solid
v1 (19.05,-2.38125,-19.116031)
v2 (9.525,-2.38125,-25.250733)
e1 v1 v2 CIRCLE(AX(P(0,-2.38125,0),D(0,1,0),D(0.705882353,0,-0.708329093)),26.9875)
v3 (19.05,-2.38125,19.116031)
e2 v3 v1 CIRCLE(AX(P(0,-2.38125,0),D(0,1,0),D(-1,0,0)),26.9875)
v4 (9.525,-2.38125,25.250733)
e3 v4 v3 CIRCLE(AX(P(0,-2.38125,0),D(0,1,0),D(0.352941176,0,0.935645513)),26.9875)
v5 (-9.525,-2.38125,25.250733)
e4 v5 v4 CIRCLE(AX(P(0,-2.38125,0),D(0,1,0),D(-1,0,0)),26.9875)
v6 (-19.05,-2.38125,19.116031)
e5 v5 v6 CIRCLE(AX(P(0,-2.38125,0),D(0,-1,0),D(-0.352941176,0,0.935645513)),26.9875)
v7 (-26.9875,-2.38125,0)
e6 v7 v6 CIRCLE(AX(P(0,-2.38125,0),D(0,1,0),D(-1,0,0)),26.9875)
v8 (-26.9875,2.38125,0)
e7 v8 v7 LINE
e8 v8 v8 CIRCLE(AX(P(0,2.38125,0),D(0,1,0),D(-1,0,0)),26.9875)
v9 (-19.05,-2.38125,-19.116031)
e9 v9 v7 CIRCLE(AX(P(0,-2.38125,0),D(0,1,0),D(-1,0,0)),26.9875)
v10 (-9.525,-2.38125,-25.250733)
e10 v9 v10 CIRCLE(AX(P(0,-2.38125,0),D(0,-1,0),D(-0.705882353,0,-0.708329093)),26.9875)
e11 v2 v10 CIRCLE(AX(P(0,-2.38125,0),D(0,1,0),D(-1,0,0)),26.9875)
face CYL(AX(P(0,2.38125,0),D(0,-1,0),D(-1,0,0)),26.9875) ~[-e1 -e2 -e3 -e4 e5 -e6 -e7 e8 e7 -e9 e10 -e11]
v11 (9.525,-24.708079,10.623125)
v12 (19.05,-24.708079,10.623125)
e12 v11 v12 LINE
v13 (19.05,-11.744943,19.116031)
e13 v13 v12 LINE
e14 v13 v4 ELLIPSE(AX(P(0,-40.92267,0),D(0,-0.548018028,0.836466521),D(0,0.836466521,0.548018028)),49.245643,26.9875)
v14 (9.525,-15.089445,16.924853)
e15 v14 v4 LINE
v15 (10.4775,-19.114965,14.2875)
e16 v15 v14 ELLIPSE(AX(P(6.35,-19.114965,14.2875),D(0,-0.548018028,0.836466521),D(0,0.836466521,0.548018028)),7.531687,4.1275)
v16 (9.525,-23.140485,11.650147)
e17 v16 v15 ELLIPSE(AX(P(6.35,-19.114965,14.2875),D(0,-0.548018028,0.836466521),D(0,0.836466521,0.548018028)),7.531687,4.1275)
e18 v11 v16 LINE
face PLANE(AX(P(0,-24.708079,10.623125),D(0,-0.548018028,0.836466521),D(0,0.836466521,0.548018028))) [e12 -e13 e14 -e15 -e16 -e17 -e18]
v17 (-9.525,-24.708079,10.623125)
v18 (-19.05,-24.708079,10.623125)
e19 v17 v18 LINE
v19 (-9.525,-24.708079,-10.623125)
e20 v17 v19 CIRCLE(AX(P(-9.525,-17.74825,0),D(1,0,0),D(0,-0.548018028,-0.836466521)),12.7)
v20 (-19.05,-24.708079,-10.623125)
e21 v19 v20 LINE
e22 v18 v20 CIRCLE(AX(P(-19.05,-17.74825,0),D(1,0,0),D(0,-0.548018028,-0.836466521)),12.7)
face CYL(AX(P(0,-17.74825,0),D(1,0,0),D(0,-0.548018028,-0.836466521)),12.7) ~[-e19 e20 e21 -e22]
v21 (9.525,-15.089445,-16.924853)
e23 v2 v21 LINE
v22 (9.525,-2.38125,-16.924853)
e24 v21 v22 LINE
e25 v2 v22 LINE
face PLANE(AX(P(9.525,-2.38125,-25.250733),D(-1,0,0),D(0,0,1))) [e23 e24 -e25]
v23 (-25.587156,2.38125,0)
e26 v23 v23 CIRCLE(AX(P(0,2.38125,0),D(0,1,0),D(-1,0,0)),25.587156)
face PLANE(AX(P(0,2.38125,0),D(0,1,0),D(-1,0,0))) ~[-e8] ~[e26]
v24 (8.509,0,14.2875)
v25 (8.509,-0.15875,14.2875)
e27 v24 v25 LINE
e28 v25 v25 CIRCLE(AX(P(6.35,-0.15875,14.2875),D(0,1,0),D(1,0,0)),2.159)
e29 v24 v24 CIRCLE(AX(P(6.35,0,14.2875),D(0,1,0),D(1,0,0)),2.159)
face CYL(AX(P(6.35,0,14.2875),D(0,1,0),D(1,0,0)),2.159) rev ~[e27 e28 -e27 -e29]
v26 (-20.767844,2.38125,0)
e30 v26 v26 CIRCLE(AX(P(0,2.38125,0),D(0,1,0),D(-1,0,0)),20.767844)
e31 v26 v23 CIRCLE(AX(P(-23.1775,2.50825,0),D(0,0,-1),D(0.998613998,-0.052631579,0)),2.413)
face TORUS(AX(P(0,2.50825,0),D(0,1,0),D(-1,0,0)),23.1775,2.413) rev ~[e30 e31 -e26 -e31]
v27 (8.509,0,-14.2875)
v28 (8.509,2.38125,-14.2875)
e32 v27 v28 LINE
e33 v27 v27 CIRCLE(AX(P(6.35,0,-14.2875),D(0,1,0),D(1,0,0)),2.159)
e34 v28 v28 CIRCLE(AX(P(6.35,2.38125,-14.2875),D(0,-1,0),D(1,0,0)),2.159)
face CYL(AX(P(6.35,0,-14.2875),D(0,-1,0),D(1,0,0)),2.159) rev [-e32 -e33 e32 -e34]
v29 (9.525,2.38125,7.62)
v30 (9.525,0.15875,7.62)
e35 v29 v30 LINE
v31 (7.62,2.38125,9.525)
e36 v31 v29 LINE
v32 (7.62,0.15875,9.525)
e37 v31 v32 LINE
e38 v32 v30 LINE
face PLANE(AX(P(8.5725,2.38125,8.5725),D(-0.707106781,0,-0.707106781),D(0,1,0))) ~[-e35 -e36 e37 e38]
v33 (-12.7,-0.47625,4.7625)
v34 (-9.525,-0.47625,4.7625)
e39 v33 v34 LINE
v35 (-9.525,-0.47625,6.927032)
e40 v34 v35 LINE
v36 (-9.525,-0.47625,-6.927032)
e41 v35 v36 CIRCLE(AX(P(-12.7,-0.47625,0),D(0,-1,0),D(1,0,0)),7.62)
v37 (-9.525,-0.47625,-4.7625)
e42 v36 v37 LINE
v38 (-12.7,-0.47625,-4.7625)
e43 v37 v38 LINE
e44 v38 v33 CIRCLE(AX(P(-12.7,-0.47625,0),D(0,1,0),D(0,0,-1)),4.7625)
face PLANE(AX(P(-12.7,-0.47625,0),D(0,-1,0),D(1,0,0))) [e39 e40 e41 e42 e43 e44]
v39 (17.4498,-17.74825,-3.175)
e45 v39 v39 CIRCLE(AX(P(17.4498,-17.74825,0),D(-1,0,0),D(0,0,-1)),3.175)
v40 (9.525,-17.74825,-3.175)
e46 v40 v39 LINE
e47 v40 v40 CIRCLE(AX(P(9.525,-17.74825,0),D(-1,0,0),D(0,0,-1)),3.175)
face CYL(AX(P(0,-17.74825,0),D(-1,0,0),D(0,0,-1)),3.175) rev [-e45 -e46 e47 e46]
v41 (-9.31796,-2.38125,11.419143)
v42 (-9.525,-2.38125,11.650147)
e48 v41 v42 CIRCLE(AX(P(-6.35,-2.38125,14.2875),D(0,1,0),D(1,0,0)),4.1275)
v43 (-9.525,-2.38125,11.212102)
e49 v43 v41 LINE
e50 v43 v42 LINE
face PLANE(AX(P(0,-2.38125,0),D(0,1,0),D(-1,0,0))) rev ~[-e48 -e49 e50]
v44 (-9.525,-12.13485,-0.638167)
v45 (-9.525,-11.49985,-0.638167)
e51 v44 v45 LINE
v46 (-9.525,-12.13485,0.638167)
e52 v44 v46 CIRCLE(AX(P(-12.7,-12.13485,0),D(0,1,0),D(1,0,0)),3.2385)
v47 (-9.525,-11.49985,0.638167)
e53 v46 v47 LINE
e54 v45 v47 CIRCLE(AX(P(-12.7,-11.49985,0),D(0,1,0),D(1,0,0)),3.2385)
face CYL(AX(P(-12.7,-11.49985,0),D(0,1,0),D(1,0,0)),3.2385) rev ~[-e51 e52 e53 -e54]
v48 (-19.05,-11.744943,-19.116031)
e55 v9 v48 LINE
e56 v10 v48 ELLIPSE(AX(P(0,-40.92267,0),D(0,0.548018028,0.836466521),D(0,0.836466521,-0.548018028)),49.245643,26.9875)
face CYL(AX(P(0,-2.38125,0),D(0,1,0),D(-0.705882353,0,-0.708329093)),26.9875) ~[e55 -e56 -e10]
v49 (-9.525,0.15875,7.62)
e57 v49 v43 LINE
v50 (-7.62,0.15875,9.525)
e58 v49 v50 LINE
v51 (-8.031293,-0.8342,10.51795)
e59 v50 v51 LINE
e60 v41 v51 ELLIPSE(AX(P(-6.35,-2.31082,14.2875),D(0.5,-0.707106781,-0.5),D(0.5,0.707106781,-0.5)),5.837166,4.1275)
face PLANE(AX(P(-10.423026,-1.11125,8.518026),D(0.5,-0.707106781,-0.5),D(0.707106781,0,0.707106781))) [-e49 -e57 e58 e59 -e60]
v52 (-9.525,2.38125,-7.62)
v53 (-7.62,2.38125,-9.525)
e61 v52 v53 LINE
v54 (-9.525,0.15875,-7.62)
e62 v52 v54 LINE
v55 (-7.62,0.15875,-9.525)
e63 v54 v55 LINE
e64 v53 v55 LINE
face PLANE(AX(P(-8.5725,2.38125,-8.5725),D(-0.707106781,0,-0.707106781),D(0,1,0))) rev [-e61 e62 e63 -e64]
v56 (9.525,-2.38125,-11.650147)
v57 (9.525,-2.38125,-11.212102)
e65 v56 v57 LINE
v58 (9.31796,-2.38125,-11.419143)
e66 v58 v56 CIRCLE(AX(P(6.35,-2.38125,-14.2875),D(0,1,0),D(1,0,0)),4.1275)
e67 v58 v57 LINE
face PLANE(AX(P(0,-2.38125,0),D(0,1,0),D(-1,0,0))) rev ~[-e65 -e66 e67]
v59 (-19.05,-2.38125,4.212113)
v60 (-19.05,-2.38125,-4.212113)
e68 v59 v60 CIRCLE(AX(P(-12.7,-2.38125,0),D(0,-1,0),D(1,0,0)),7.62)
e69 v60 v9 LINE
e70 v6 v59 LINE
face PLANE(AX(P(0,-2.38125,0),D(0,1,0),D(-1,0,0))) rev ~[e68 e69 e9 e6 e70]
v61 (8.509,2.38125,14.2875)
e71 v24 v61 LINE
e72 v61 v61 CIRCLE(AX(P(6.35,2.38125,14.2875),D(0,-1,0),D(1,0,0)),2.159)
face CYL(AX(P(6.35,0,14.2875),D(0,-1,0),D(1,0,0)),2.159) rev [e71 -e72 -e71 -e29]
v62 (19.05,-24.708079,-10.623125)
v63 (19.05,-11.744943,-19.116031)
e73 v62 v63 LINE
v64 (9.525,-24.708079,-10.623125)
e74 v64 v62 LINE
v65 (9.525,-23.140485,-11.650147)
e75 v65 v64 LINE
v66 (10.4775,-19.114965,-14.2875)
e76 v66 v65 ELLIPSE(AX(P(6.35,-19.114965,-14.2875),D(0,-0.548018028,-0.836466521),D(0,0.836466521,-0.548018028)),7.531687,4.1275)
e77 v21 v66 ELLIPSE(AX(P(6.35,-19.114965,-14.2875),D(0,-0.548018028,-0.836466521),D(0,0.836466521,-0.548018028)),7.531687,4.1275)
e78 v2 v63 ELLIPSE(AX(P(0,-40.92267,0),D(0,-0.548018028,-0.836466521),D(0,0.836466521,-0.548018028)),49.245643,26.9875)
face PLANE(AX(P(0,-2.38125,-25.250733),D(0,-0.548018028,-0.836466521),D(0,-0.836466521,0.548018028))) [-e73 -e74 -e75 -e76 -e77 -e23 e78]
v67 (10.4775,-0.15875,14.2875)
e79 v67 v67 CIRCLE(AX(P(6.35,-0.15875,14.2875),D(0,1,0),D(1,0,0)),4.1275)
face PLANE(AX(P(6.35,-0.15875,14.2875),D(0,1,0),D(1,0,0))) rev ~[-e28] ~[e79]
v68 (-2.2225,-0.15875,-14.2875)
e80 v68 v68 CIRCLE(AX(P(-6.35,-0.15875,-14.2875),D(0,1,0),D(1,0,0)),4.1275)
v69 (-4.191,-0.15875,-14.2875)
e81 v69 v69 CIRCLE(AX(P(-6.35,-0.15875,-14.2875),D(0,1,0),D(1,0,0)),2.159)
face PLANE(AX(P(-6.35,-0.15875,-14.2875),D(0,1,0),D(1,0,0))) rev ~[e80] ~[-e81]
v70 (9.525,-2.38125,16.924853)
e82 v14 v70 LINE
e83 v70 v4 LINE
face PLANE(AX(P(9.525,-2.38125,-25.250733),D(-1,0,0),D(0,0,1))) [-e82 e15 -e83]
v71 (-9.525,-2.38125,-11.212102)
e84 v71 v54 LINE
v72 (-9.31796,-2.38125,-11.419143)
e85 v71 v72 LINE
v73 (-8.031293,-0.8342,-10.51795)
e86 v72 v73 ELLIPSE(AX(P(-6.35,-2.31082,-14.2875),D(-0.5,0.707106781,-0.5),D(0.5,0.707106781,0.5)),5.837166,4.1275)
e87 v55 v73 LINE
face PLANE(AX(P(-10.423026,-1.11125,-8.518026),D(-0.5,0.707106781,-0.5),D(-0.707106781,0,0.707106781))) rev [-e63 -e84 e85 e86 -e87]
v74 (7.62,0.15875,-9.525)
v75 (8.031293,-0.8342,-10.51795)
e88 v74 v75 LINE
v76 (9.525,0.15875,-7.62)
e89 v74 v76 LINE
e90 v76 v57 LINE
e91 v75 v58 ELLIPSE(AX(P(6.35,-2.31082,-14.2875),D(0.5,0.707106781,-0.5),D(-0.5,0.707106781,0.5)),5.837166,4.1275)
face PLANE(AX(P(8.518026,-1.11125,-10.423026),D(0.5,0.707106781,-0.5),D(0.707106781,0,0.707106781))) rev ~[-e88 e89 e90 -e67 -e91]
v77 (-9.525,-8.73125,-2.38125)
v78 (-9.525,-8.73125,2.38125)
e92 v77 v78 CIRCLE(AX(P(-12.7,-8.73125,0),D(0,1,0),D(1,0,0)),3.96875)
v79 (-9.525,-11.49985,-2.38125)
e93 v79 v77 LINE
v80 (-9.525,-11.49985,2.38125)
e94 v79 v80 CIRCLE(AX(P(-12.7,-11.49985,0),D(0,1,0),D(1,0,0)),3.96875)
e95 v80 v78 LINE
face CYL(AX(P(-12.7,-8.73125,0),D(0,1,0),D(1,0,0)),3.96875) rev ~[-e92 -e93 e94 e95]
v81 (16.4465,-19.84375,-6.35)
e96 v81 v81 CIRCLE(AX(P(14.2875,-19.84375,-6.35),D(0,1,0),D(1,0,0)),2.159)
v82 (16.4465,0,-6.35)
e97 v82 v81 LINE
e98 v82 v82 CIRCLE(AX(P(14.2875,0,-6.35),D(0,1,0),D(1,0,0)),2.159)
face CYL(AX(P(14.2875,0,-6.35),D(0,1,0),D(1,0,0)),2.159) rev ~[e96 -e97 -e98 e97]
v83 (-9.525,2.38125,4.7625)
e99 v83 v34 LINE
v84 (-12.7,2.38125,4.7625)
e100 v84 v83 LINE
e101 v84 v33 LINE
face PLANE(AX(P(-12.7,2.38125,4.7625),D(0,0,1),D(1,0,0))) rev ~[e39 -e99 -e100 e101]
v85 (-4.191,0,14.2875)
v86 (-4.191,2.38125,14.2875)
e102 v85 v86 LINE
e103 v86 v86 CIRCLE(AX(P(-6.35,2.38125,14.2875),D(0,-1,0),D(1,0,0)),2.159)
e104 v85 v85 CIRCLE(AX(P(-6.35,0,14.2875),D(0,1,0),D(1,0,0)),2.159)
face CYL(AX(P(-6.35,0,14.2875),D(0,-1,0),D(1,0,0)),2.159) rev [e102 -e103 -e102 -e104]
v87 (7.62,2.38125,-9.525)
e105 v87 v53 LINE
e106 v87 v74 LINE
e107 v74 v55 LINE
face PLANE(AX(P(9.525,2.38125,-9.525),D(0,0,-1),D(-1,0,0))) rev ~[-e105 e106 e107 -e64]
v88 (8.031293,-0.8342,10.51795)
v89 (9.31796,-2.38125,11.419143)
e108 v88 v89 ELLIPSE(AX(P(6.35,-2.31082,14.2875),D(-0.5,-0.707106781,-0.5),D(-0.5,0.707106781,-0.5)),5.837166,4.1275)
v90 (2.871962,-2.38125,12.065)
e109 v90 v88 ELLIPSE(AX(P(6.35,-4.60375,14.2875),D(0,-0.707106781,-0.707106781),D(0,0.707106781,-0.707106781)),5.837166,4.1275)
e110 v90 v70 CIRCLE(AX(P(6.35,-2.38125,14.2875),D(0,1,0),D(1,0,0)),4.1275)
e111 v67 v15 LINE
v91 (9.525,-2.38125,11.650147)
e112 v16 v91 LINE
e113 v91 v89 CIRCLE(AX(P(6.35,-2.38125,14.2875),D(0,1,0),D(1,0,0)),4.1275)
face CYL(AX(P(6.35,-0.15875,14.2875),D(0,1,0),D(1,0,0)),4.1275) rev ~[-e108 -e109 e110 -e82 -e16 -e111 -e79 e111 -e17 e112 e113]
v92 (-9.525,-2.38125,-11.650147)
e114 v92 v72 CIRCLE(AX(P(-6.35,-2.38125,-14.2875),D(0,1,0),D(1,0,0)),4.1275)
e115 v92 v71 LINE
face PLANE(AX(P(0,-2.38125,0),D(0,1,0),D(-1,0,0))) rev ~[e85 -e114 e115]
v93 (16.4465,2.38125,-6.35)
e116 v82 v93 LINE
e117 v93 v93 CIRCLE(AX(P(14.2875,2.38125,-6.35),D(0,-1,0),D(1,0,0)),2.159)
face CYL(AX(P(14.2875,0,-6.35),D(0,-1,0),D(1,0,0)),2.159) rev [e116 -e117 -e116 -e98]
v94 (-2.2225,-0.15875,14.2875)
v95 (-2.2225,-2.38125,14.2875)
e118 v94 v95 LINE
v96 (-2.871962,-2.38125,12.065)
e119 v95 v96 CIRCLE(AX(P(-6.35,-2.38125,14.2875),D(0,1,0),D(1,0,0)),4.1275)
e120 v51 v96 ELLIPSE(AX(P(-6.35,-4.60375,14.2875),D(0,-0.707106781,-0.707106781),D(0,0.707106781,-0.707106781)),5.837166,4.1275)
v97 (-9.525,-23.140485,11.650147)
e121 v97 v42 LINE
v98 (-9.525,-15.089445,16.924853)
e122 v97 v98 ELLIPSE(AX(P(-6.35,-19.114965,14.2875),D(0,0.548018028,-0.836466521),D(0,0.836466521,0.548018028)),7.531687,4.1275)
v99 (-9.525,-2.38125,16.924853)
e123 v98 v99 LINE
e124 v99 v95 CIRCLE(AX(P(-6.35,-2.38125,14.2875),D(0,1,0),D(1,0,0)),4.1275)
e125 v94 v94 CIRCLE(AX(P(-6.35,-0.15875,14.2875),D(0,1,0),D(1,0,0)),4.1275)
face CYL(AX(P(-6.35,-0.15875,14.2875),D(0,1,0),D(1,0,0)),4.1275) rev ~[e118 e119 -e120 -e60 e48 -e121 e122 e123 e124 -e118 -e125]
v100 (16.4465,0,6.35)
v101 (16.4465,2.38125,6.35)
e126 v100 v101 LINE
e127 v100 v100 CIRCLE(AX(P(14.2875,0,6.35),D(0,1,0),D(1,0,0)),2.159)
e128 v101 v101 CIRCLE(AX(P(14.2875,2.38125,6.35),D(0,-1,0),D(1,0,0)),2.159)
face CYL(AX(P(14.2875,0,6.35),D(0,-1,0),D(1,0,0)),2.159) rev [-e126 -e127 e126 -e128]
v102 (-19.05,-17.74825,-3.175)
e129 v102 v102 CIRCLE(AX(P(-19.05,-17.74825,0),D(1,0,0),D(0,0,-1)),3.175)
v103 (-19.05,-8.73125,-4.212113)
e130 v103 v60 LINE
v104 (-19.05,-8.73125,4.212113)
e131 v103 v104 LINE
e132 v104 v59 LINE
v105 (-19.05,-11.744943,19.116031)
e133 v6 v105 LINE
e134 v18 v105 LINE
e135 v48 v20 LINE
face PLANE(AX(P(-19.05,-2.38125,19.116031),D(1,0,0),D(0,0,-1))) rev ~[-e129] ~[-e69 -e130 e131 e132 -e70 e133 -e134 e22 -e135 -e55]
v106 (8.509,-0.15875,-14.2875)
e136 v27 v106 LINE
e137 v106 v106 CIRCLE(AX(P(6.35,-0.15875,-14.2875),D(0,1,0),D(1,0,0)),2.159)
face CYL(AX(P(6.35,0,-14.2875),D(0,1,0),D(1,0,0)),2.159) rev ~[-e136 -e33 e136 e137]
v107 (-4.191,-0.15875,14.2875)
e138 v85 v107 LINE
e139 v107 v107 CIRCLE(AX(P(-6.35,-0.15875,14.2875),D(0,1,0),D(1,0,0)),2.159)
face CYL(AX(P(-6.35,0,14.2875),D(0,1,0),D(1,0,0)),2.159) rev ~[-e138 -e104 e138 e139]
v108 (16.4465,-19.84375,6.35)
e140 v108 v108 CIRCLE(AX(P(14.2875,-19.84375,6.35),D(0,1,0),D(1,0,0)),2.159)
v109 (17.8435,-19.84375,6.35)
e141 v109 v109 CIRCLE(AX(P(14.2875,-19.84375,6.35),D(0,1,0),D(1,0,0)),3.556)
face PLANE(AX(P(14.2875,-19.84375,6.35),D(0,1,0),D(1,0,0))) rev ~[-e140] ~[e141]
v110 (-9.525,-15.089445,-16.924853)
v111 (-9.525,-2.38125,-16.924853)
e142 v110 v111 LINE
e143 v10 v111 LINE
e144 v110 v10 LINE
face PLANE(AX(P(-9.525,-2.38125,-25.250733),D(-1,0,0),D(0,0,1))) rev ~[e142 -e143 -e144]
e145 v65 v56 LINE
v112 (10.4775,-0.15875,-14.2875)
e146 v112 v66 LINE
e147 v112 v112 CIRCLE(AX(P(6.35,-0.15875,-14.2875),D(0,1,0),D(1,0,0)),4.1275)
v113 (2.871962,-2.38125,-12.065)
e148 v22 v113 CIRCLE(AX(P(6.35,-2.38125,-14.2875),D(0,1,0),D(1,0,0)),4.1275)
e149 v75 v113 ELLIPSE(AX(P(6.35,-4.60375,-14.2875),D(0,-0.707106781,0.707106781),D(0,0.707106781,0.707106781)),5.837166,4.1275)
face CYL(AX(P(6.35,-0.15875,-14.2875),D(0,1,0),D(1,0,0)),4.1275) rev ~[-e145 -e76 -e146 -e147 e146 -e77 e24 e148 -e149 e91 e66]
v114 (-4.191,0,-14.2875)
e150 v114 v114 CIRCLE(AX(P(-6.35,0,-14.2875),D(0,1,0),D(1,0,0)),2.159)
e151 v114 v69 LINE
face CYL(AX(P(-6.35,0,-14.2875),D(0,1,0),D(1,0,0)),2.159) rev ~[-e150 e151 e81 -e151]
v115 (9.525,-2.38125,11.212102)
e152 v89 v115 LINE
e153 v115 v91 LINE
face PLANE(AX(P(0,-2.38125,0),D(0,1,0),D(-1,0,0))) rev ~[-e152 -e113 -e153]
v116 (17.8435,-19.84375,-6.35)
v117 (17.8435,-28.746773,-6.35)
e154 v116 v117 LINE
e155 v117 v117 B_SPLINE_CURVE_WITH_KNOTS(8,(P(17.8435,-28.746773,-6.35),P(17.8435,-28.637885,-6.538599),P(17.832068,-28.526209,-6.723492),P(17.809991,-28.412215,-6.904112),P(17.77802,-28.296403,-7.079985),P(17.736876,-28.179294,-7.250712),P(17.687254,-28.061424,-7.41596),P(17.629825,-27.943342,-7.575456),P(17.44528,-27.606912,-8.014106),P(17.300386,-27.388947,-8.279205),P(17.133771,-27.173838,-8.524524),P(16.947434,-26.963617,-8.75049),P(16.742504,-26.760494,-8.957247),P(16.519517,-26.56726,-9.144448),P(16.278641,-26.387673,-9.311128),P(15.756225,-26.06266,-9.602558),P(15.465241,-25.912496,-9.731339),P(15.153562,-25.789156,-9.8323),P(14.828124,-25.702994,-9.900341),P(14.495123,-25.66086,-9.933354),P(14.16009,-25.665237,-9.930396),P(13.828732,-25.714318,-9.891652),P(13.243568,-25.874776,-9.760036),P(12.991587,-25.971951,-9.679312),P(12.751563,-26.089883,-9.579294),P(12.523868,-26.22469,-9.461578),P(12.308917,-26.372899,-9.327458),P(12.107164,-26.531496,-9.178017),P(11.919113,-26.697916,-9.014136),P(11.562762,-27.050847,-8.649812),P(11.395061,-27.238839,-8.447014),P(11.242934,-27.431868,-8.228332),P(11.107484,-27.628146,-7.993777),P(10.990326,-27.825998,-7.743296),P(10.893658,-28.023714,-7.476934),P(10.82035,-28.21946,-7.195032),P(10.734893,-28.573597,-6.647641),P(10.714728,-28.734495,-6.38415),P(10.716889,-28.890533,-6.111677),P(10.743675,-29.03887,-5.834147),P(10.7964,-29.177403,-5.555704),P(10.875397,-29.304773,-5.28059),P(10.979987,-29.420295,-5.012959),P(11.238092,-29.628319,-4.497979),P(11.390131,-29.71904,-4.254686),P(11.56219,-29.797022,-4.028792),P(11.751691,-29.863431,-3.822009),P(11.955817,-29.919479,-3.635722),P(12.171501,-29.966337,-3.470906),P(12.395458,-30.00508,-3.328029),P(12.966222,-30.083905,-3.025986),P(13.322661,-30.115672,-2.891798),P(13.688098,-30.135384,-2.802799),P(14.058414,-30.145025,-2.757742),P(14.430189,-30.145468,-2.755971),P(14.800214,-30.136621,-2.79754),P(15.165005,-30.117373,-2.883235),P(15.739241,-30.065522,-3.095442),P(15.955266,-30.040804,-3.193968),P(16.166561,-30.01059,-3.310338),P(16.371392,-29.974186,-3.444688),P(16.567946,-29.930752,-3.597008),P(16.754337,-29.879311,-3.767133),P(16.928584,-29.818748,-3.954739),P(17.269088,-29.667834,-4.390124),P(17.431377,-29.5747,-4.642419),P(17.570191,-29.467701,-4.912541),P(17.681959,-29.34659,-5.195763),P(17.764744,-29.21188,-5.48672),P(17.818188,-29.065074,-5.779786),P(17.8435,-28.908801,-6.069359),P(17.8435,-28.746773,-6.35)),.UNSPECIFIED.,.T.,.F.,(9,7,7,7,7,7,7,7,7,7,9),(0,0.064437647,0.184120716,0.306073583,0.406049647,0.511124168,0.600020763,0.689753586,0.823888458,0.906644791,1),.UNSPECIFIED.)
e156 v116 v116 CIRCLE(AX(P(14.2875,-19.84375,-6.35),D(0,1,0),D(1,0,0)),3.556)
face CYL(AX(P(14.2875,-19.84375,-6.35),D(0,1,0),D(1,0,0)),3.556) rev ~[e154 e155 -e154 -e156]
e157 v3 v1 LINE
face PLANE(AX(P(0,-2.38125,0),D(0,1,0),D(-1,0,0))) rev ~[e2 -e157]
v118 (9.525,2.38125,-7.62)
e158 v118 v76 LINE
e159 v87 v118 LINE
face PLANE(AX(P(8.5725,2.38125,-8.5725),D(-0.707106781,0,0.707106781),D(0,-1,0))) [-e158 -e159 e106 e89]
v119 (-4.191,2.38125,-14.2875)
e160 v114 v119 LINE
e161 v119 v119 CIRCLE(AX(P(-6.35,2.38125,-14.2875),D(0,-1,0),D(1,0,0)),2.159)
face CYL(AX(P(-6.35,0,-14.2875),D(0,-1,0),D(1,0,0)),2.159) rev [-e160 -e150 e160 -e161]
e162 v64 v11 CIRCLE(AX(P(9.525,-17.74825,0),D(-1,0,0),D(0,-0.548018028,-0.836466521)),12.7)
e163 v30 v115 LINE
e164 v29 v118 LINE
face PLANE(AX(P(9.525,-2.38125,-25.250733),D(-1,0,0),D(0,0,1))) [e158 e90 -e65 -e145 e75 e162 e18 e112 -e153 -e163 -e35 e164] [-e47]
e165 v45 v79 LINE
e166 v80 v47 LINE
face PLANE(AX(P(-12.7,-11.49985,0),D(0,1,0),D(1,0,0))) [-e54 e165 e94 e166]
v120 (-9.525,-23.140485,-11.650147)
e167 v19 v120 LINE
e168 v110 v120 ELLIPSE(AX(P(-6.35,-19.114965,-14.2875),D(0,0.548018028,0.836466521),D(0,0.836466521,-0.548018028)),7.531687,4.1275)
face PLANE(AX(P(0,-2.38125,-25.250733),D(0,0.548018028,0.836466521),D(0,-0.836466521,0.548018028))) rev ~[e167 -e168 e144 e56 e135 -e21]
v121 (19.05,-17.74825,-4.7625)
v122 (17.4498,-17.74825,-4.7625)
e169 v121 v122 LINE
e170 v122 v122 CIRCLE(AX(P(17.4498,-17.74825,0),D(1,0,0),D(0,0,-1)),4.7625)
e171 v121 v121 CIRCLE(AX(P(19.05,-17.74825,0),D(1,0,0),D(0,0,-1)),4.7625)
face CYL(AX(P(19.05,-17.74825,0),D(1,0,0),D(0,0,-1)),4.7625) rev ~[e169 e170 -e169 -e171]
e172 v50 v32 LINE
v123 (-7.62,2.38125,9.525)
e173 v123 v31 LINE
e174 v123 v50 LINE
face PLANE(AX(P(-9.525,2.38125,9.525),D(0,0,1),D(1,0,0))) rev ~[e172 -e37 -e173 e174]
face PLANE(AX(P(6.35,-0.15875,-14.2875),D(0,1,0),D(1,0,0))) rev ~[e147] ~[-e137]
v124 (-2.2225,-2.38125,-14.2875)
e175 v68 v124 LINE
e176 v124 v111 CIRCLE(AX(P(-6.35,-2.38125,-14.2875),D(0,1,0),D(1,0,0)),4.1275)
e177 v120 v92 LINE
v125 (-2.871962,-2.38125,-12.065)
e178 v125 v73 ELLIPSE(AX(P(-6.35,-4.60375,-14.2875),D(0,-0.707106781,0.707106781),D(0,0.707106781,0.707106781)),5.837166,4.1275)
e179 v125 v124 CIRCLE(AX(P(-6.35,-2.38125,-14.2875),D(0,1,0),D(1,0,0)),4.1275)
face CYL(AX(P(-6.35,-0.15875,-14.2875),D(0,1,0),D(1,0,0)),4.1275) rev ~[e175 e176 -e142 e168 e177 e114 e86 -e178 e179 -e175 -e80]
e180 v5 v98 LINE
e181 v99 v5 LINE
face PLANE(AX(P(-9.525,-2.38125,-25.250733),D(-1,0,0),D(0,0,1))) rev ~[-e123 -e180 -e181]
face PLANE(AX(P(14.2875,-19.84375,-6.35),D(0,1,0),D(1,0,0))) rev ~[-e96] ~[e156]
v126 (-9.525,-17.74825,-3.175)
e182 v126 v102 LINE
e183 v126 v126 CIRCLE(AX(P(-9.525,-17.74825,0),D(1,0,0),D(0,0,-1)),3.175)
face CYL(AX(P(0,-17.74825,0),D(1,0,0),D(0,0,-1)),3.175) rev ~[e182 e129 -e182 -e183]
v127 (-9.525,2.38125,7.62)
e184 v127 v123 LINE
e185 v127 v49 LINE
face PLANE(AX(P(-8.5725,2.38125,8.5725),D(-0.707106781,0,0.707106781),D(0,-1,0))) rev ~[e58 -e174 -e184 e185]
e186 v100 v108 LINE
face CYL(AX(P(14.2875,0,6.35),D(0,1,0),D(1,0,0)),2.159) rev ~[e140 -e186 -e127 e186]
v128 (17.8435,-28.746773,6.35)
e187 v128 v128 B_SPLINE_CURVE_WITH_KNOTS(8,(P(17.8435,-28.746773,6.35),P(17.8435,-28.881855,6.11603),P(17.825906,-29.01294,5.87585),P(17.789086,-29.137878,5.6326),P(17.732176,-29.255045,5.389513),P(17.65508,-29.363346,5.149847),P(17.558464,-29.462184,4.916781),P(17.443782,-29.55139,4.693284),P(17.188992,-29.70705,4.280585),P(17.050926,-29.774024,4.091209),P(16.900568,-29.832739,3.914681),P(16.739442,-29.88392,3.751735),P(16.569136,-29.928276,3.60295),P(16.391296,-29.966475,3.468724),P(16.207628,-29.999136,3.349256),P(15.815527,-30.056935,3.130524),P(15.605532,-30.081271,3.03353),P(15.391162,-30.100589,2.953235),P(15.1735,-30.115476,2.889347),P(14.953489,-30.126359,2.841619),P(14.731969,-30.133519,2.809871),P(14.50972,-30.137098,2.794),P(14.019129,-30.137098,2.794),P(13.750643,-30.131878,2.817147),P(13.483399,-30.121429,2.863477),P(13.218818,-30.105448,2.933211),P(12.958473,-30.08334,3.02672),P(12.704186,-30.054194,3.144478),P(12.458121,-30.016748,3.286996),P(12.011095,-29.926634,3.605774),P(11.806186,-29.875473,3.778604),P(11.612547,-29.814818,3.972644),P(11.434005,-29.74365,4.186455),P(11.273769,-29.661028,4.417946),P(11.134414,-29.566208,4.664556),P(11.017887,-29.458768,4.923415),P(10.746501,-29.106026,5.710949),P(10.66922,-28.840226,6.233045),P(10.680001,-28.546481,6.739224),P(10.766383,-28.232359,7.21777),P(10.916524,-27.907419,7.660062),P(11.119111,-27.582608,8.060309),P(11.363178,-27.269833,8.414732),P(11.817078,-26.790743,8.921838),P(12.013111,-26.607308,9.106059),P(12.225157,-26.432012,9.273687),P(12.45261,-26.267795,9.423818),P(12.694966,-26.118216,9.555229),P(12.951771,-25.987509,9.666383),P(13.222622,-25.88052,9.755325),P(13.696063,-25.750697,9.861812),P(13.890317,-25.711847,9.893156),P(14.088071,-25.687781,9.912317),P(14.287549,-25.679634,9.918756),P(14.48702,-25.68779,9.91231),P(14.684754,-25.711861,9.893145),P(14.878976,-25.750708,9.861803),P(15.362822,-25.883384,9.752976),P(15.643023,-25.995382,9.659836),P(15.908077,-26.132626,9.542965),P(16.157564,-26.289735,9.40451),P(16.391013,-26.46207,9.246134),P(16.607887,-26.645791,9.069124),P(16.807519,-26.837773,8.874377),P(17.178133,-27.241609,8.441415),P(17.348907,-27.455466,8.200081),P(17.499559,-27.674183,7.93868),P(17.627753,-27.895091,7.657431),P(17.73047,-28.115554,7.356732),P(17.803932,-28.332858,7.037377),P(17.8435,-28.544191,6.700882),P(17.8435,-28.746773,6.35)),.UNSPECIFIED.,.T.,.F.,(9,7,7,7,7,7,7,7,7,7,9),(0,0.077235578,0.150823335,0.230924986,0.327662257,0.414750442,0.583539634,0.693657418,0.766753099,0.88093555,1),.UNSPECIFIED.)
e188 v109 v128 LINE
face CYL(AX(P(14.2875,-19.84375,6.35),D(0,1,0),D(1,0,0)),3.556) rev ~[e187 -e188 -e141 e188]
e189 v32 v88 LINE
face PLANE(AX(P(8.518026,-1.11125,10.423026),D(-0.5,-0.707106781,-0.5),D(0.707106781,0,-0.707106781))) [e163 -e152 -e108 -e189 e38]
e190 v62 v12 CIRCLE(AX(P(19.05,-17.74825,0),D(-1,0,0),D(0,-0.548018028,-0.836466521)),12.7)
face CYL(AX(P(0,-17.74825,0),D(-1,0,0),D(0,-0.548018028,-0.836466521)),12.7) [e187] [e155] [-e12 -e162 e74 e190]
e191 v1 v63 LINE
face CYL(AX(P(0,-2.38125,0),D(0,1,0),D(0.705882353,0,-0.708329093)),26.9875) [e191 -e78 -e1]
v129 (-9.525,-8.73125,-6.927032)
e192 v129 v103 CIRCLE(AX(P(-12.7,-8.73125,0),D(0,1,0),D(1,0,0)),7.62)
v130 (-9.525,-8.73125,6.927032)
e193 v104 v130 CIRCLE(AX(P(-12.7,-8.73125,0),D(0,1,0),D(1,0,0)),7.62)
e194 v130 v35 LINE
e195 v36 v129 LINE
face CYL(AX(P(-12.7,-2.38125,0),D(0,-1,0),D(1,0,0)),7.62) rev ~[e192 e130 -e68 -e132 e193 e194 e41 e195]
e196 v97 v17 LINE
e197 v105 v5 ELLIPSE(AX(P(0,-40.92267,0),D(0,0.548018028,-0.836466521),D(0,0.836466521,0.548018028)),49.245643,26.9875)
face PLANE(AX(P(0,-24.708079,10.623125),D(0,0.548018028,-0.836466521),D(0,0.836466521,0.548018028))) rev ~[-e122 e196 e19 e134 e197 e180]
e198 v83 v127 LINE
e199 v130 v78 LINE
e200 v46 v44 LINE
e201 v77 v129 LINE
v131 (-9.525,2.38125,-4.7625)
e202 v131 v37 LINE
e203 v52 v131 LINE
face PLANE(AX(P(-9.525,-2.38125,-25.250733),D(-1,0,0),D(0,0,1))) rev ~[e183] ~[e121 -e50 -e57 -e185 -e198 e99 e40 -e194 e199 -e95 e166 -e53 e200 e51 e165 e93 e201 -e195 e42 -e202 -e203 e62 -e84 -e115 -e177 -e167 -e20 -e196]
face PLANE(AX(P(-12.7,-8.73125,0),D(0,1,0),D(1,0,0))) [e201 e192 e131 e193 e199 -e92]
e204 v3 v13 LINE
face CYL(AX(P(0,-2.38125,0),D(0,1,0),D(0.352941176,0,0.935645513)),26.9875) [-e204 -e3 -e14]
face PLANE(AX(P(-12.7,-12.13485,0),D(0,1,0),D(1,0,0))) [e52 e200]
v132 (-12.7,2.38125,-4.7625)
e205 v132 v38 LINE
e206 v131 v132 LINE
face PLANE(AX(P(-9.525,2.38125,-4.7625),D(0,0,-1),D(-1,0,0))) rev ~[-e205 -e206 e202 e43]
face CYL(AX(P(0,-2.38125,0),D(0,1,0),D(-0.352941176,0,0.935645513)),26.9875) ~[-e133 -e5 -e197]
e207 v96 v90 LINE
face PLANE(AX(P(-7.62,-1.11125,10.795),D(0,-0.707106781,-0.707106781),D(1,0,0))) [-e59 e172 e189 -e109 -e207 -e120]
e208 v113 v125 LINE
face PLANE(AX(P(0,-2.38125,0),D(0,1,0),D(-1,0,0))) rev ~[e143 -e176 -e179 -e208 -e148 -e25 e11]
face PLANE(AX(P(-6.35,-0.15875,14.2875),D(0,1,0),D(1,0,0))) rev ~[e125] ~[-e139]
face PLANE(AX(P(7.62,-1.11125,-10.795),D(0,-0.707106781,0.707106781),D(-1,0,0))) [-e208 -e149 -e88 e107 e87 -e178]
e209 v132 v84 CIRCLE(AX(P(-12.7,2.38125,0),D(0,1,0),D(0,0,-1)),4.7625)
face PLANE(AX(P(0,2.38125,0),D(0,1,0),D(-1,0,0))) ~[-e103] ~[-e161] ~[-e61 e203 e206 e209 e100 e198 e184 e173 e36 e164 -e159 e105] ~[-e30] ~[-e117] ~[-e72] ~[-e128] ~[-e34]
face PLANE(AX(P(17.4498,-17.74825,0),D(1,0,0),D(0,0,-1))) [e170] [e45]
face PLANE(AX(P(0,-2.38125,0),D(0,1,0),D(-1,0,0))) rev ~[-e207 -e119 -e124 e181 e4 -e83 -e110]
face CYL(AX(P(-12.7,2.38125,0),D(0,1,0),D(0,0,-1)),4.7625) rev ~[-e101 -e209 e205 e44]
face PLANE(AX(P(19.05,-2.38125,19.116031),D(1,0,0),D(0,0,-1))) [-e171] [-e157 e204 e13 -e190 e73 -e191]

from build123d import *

# Parameters (mm, degrees)
CUT_EXTRUDE1_DEPTH      = 5.7625
SKETCH4_R               = 7.62
CUT_EXTRUDE2_DEPTH      = 1.905
BOSS_EXTRUDE1_DEPTH     = 50.8
SKETCH6_R               = 3.175
CUT_EXTRUDE3_DEPTH      = 27.9875
CUT_EXTRUDE3_DEPTH_BACK = 27.9875
SKETCH7_R               = 7.62
CUT_EXTRUDE4_DEPTH      = 6.35
SKETCH8_R               = 3.96875
CUT_EXTRUDE5_DEPTH      = 2.7686
SKETCH9_R               = 3.2385
CUT_EXTRUDE6_DEPTH      = 0.635
CHAMFER1_SIZE           = 1.905
CHAMFER2_SIZE           = 2.54
SKETCH10_R              = 2.159
CUT_EXTRUDE7_DEPTH      = 3.38125
CUT_EXTRUDE7_DEPTH_BACK = 31.44825
CUT_EXTRUDE8_START      = -2.54
SKETCH11_R              = 4.1275
CUT_EXTRUDE8_DEPTH      = 31.2895001
CUT_EXTRUDE9_START      = -22.225
SKETCH12_R              = 3.556
CUT_EXTRUDE9_DEPTH      = 11.6045001
SKETCH13_R              = 4.7625
CUT_EXTRUDE10_DEPTH     = 1.6002


with BuildPart() as part:
    # Sketch2 → Revolve1 (revolve)
    with BuildSketch(Plane.XY):
        with BuildLine():
            Line((0, 0), (0, 2.38125))
            Line((0, 2.38125), (-20.767844423, 2.38125))
            ThreePointArc((-20.767844423, 2.38125), (-23.1775, 0.09525), (-25.587155577, 2.38125))
            Line((-25.587155577, 2.38125), (-26.9875, 2.38125))
            Line((-26.9875, 2.38125), (-26.9875, -2.38125))
            Line((-26.9875, -2.38125), (0, -2.38125))
            Line((0, -2.38125), (0, 0))
        make_face()
    revolve(axis=Axis((0, 0, 0), (0, 1, 0)))

    # Sketch3 → Cut-Extrude1 (cut, through all)
    with BuildSketch(Plane(origin=(0, 2.38125, 0), x_dir=(1, 0, 0), z_dir=(0, 1, 0))):
        with BuildLine():
            Line((-9.525, -9.525), (9.525, -9.525))
            Line((9.525, -9.525), (9.525, 9.525))
            Line((9.525, 9.525), (-9.525, 9.525))
            Line((-9.525, 9.525), (-9.525, 4.7625))
            Line((-9.525, 4.7625), (-12.7, 4.7625))
            ThreePointArc((-12.7, 4.7625), (-17.4625, 0), (-12.7, -4.7625))
            Line((-12.7, -4.7625), (-9.525, -4.7625))
            Line((-9.525, -4.7625), (-9.525, -9.525))
        make_face()
    extrude(amount=-CUT_EXTRUDE1_DEPTH, mode=Mode.SUBTRACT)

    # Sketch4 → Cut-Extrude2 (cut)
    with BuildSketch(Plane.XZ.offset(2.38125)):
        with Locations((-12.7, 0)):
            Circle(SKETCH4_R)
    extrude(amount=-CUT_EXTRUDE2_DEPTH, mode=Mode.SUBTRACT)

    # Sketch5 → Boss-Extrude1 (add)
    with BuildSketch(Plane.XZ.offset(2.38125)):
        with BuildLine():
            Line((-9.525, -25.250733281), (-9.525, 25.250733281))
            ThreePointArc((-9.525, 25.250733281), (-14.613052318, 22.688848763), (-19.05, 19.116031394))
            Line((-19.05, 19.116031394), (-19.05, -19.116031394))
            ThreePointArc((-19.05, -19.116031394), (-14.613052318, -22.688848763), (-9.525, -25.250733281))
        make_face()
        with BuildLine():
            Line((9.525, -25.250733281), (9.525, 25.250733281))
            ThreePointArc((9.525, 25.250733281), (14.613052318, 22.688848763), (19.05, 19.116031394))
            Line((19.05, 19.116031394), (19.05, -19.116031394))
            ThreePointArc((19.05, -19.116031394), (14.613052318, -22.688848763), (9.525, -25.250733281))
        make_face()
    extrude(amount=BOSS_EXTRUDE1_DEPTH)

    # Sketch6 → Cut-Extrude3 (cut, two sides)
    with BuildSketch(Plane(origin=(0, 0, 0), x_dir=(0, 0, -1), z_dir=(1, 0, 0))) as cut_extrude3_sk:
        with Locations((0, -17.74825)):
            Circle(SKETCH6_R)
        with BuildLine():
            Line((-25.250733281, -2.38125), (-25.250733281, -53.18125))
            Line((-25.250733281, -53.18125), (25.250733281, -53.18125))
            Line((25.250733281, -53.18125), (25.250733281, -2.38125))
            Line((25.250733281, -2.38125), (10.623124822, -24.708078951))
            ThreePointArc((10.623124822, -24.708078951), (0, -30.44825), (-10.623124822, -24.708078951))
            Line((-10.623124822, -24.708078951), (-25.250733281, -2.38125))
        make_face()
    extrude(amount=CUT_EXTRUDE3_DEPTH, mode=Mode.SUBTRACT)
    extrude(cut_extrude3_sk.sketch, amount=-CUT_EXTRUDE3_DEPTH_BACK, mode=Mode.SUBTRACT)

    # Sketch7 → Cut-Extrude4 (cut)
    with BuildSketch(Plane(origin=(0, -2.38125, 0), x_dir=(1, 0, 0), z_dir=(0, 1, 0))):
        with Locations((-12.7, 0)):
            Circle(SKETCH7_R)
    extrude(amount=-CUT_EXTRUDE4_DEPTH, mode=Mode.SUBTRACT)

    # Sketch8 → Cut-Extrude5 (cut)
    with BuildSketch(Plane(origin=(0, -8.73125, 0), x_dir=(1, 0, 0), z_dir=(0, 1, 0))):
        with Locations((-12.7, 0)):
            Circle(SKETCH8_R)
    extrude(amount=-CUT_EXTRUDE5_DEPTH, mode=Mode.SUBTRACT)

    # Sketch9 → Cut-Extrude6 (cut)
    with BuildSketch(Plane(origin=(0, -11.49985, 0), x_dir=(1, 0, 0), z_dir=(0, 1, 0))):
        with Locations((-12.7, 0)):
            Circle(SKETCH9_R)
    extrude(amount=-CUT_EXTRUDE6_DEPTH, mode=Mode.SUBTRACT)

    # Chamfer1
    chamfer1_edges = [part.edges().sort_by_distance(p)[0] for p in [
        (9.525, 0, -9.525),
        (9.525, 0, 9.525),
        (-9.525, 0, 9.525),
        (-9.525, 0, -9.525),
    ]]
    chamfer(chamfer1_edges, length=CHAMFER1_SIZE)

    # Chamfer2
    chamfer2_edges = [part.edges().sort_by_distance(p)[0] for p in [
        (0, -2.38125, 9.525),
        (0, -2.38125, -9.525),
        (-8.5725, -2.38125, 8.5725),
        (8.5725, -2.38125, 8.5725),
        (8.5725, -2.38125, -8.5725),
        (-8.5725, -2.38125, -8.5725),
    ]]
    chamfer(chamfer2_edges, length=CHAMFER2_SIZE)

    # Sketch10 → Cut-Extrude7 (cut, two sides)
    with BuildSketch(Plane(origin=(0, 0, 0), x_dir=(1, 0, 0), z_dir=(0, 1, 0))) as cut_extrude7_sk:
        with Locations((-6.35, 14.2875)):
            Circle(SKETCH10_R)
        with Locations((-6.35, -14.2875)):
            Circle(SKETCH10_R)
        with Locations((6.35, -14.2875)):
            Circle(SKETCH10_R)
        with Locations((6.35, 14.2875)):
            Circle(SKETCH10_R)
        with Locations((14.2875, 6.35)):
            Circle(SKETCH10_R)
        with Locations((14.2875, -6.35)):
            Circle(SKETCH10_R)
    extrude(amount=CUT_EXTRUDE7_DEPTH, mode=Mode.SUBTRACT)
    extrude(cut_extrude7_sk.sketch, amount=-CUT_EXTRUDE7_DEPTH_BACK, mode=Mode.SUBTRACT)

    # Sketch11 → Cut-Extrude8 (cut, through all)
    with BuildSketch(Plane(origin=(0, 2.38125, 0), x_dir=(1, 0, 0), z_dir=(0, 1, 0)).offset(CUT_EXTRUDE8_START)):
        with Locations((-6.35, 14.2875)):
            Circle(SKETCH11_R)
        with Locations((6.35, 14.2875)):
            Circle(SKETCH11_R)
        with Locations((6.35, -14.2875)):
            Circle(SKETCH11_R)
        with Locations((-6.35, -14.2875)):
            Circle(SKETCH11_R)
    extrude(amount=-CUT_EXTRUDE8_DEPTH, mode=Mode.SUBTRACT)

    # Sketch12 → Cut-Extrude9 (cut, through all)
    with BuildSketch(Plane(origin=(0, 2.38125, 0), x_dir=(1, 0, 0), z_dir=(0, 1, 0)).offset(CUT_EXTRUDE9_START)):
        with Locations((14.2875, 6.35)):
            Circle(SKETCH12_R)
        with Locations((14.2875, -6.35)):
            Circle(SKETCH12_R)
    extrude(amount=-CUT_EXTRUDE9_DEPTH, mode=Mode.SUBTRACT)

    # Sketch13 → Cut-Extrude10 (cut)
    with BuildSketch(Plane(origin=(19.05, 0, 0), x_dir=(0, 0, -1), z_dir=(1, 0, 0))):
        with Locations((0, -17.74825)):
            Circle(SKETCH13_R)
    extrude(amount=-CUT_EXTRUDE10_DEPTH, mode=Mode.SUBTRACT)


solid = part.part
